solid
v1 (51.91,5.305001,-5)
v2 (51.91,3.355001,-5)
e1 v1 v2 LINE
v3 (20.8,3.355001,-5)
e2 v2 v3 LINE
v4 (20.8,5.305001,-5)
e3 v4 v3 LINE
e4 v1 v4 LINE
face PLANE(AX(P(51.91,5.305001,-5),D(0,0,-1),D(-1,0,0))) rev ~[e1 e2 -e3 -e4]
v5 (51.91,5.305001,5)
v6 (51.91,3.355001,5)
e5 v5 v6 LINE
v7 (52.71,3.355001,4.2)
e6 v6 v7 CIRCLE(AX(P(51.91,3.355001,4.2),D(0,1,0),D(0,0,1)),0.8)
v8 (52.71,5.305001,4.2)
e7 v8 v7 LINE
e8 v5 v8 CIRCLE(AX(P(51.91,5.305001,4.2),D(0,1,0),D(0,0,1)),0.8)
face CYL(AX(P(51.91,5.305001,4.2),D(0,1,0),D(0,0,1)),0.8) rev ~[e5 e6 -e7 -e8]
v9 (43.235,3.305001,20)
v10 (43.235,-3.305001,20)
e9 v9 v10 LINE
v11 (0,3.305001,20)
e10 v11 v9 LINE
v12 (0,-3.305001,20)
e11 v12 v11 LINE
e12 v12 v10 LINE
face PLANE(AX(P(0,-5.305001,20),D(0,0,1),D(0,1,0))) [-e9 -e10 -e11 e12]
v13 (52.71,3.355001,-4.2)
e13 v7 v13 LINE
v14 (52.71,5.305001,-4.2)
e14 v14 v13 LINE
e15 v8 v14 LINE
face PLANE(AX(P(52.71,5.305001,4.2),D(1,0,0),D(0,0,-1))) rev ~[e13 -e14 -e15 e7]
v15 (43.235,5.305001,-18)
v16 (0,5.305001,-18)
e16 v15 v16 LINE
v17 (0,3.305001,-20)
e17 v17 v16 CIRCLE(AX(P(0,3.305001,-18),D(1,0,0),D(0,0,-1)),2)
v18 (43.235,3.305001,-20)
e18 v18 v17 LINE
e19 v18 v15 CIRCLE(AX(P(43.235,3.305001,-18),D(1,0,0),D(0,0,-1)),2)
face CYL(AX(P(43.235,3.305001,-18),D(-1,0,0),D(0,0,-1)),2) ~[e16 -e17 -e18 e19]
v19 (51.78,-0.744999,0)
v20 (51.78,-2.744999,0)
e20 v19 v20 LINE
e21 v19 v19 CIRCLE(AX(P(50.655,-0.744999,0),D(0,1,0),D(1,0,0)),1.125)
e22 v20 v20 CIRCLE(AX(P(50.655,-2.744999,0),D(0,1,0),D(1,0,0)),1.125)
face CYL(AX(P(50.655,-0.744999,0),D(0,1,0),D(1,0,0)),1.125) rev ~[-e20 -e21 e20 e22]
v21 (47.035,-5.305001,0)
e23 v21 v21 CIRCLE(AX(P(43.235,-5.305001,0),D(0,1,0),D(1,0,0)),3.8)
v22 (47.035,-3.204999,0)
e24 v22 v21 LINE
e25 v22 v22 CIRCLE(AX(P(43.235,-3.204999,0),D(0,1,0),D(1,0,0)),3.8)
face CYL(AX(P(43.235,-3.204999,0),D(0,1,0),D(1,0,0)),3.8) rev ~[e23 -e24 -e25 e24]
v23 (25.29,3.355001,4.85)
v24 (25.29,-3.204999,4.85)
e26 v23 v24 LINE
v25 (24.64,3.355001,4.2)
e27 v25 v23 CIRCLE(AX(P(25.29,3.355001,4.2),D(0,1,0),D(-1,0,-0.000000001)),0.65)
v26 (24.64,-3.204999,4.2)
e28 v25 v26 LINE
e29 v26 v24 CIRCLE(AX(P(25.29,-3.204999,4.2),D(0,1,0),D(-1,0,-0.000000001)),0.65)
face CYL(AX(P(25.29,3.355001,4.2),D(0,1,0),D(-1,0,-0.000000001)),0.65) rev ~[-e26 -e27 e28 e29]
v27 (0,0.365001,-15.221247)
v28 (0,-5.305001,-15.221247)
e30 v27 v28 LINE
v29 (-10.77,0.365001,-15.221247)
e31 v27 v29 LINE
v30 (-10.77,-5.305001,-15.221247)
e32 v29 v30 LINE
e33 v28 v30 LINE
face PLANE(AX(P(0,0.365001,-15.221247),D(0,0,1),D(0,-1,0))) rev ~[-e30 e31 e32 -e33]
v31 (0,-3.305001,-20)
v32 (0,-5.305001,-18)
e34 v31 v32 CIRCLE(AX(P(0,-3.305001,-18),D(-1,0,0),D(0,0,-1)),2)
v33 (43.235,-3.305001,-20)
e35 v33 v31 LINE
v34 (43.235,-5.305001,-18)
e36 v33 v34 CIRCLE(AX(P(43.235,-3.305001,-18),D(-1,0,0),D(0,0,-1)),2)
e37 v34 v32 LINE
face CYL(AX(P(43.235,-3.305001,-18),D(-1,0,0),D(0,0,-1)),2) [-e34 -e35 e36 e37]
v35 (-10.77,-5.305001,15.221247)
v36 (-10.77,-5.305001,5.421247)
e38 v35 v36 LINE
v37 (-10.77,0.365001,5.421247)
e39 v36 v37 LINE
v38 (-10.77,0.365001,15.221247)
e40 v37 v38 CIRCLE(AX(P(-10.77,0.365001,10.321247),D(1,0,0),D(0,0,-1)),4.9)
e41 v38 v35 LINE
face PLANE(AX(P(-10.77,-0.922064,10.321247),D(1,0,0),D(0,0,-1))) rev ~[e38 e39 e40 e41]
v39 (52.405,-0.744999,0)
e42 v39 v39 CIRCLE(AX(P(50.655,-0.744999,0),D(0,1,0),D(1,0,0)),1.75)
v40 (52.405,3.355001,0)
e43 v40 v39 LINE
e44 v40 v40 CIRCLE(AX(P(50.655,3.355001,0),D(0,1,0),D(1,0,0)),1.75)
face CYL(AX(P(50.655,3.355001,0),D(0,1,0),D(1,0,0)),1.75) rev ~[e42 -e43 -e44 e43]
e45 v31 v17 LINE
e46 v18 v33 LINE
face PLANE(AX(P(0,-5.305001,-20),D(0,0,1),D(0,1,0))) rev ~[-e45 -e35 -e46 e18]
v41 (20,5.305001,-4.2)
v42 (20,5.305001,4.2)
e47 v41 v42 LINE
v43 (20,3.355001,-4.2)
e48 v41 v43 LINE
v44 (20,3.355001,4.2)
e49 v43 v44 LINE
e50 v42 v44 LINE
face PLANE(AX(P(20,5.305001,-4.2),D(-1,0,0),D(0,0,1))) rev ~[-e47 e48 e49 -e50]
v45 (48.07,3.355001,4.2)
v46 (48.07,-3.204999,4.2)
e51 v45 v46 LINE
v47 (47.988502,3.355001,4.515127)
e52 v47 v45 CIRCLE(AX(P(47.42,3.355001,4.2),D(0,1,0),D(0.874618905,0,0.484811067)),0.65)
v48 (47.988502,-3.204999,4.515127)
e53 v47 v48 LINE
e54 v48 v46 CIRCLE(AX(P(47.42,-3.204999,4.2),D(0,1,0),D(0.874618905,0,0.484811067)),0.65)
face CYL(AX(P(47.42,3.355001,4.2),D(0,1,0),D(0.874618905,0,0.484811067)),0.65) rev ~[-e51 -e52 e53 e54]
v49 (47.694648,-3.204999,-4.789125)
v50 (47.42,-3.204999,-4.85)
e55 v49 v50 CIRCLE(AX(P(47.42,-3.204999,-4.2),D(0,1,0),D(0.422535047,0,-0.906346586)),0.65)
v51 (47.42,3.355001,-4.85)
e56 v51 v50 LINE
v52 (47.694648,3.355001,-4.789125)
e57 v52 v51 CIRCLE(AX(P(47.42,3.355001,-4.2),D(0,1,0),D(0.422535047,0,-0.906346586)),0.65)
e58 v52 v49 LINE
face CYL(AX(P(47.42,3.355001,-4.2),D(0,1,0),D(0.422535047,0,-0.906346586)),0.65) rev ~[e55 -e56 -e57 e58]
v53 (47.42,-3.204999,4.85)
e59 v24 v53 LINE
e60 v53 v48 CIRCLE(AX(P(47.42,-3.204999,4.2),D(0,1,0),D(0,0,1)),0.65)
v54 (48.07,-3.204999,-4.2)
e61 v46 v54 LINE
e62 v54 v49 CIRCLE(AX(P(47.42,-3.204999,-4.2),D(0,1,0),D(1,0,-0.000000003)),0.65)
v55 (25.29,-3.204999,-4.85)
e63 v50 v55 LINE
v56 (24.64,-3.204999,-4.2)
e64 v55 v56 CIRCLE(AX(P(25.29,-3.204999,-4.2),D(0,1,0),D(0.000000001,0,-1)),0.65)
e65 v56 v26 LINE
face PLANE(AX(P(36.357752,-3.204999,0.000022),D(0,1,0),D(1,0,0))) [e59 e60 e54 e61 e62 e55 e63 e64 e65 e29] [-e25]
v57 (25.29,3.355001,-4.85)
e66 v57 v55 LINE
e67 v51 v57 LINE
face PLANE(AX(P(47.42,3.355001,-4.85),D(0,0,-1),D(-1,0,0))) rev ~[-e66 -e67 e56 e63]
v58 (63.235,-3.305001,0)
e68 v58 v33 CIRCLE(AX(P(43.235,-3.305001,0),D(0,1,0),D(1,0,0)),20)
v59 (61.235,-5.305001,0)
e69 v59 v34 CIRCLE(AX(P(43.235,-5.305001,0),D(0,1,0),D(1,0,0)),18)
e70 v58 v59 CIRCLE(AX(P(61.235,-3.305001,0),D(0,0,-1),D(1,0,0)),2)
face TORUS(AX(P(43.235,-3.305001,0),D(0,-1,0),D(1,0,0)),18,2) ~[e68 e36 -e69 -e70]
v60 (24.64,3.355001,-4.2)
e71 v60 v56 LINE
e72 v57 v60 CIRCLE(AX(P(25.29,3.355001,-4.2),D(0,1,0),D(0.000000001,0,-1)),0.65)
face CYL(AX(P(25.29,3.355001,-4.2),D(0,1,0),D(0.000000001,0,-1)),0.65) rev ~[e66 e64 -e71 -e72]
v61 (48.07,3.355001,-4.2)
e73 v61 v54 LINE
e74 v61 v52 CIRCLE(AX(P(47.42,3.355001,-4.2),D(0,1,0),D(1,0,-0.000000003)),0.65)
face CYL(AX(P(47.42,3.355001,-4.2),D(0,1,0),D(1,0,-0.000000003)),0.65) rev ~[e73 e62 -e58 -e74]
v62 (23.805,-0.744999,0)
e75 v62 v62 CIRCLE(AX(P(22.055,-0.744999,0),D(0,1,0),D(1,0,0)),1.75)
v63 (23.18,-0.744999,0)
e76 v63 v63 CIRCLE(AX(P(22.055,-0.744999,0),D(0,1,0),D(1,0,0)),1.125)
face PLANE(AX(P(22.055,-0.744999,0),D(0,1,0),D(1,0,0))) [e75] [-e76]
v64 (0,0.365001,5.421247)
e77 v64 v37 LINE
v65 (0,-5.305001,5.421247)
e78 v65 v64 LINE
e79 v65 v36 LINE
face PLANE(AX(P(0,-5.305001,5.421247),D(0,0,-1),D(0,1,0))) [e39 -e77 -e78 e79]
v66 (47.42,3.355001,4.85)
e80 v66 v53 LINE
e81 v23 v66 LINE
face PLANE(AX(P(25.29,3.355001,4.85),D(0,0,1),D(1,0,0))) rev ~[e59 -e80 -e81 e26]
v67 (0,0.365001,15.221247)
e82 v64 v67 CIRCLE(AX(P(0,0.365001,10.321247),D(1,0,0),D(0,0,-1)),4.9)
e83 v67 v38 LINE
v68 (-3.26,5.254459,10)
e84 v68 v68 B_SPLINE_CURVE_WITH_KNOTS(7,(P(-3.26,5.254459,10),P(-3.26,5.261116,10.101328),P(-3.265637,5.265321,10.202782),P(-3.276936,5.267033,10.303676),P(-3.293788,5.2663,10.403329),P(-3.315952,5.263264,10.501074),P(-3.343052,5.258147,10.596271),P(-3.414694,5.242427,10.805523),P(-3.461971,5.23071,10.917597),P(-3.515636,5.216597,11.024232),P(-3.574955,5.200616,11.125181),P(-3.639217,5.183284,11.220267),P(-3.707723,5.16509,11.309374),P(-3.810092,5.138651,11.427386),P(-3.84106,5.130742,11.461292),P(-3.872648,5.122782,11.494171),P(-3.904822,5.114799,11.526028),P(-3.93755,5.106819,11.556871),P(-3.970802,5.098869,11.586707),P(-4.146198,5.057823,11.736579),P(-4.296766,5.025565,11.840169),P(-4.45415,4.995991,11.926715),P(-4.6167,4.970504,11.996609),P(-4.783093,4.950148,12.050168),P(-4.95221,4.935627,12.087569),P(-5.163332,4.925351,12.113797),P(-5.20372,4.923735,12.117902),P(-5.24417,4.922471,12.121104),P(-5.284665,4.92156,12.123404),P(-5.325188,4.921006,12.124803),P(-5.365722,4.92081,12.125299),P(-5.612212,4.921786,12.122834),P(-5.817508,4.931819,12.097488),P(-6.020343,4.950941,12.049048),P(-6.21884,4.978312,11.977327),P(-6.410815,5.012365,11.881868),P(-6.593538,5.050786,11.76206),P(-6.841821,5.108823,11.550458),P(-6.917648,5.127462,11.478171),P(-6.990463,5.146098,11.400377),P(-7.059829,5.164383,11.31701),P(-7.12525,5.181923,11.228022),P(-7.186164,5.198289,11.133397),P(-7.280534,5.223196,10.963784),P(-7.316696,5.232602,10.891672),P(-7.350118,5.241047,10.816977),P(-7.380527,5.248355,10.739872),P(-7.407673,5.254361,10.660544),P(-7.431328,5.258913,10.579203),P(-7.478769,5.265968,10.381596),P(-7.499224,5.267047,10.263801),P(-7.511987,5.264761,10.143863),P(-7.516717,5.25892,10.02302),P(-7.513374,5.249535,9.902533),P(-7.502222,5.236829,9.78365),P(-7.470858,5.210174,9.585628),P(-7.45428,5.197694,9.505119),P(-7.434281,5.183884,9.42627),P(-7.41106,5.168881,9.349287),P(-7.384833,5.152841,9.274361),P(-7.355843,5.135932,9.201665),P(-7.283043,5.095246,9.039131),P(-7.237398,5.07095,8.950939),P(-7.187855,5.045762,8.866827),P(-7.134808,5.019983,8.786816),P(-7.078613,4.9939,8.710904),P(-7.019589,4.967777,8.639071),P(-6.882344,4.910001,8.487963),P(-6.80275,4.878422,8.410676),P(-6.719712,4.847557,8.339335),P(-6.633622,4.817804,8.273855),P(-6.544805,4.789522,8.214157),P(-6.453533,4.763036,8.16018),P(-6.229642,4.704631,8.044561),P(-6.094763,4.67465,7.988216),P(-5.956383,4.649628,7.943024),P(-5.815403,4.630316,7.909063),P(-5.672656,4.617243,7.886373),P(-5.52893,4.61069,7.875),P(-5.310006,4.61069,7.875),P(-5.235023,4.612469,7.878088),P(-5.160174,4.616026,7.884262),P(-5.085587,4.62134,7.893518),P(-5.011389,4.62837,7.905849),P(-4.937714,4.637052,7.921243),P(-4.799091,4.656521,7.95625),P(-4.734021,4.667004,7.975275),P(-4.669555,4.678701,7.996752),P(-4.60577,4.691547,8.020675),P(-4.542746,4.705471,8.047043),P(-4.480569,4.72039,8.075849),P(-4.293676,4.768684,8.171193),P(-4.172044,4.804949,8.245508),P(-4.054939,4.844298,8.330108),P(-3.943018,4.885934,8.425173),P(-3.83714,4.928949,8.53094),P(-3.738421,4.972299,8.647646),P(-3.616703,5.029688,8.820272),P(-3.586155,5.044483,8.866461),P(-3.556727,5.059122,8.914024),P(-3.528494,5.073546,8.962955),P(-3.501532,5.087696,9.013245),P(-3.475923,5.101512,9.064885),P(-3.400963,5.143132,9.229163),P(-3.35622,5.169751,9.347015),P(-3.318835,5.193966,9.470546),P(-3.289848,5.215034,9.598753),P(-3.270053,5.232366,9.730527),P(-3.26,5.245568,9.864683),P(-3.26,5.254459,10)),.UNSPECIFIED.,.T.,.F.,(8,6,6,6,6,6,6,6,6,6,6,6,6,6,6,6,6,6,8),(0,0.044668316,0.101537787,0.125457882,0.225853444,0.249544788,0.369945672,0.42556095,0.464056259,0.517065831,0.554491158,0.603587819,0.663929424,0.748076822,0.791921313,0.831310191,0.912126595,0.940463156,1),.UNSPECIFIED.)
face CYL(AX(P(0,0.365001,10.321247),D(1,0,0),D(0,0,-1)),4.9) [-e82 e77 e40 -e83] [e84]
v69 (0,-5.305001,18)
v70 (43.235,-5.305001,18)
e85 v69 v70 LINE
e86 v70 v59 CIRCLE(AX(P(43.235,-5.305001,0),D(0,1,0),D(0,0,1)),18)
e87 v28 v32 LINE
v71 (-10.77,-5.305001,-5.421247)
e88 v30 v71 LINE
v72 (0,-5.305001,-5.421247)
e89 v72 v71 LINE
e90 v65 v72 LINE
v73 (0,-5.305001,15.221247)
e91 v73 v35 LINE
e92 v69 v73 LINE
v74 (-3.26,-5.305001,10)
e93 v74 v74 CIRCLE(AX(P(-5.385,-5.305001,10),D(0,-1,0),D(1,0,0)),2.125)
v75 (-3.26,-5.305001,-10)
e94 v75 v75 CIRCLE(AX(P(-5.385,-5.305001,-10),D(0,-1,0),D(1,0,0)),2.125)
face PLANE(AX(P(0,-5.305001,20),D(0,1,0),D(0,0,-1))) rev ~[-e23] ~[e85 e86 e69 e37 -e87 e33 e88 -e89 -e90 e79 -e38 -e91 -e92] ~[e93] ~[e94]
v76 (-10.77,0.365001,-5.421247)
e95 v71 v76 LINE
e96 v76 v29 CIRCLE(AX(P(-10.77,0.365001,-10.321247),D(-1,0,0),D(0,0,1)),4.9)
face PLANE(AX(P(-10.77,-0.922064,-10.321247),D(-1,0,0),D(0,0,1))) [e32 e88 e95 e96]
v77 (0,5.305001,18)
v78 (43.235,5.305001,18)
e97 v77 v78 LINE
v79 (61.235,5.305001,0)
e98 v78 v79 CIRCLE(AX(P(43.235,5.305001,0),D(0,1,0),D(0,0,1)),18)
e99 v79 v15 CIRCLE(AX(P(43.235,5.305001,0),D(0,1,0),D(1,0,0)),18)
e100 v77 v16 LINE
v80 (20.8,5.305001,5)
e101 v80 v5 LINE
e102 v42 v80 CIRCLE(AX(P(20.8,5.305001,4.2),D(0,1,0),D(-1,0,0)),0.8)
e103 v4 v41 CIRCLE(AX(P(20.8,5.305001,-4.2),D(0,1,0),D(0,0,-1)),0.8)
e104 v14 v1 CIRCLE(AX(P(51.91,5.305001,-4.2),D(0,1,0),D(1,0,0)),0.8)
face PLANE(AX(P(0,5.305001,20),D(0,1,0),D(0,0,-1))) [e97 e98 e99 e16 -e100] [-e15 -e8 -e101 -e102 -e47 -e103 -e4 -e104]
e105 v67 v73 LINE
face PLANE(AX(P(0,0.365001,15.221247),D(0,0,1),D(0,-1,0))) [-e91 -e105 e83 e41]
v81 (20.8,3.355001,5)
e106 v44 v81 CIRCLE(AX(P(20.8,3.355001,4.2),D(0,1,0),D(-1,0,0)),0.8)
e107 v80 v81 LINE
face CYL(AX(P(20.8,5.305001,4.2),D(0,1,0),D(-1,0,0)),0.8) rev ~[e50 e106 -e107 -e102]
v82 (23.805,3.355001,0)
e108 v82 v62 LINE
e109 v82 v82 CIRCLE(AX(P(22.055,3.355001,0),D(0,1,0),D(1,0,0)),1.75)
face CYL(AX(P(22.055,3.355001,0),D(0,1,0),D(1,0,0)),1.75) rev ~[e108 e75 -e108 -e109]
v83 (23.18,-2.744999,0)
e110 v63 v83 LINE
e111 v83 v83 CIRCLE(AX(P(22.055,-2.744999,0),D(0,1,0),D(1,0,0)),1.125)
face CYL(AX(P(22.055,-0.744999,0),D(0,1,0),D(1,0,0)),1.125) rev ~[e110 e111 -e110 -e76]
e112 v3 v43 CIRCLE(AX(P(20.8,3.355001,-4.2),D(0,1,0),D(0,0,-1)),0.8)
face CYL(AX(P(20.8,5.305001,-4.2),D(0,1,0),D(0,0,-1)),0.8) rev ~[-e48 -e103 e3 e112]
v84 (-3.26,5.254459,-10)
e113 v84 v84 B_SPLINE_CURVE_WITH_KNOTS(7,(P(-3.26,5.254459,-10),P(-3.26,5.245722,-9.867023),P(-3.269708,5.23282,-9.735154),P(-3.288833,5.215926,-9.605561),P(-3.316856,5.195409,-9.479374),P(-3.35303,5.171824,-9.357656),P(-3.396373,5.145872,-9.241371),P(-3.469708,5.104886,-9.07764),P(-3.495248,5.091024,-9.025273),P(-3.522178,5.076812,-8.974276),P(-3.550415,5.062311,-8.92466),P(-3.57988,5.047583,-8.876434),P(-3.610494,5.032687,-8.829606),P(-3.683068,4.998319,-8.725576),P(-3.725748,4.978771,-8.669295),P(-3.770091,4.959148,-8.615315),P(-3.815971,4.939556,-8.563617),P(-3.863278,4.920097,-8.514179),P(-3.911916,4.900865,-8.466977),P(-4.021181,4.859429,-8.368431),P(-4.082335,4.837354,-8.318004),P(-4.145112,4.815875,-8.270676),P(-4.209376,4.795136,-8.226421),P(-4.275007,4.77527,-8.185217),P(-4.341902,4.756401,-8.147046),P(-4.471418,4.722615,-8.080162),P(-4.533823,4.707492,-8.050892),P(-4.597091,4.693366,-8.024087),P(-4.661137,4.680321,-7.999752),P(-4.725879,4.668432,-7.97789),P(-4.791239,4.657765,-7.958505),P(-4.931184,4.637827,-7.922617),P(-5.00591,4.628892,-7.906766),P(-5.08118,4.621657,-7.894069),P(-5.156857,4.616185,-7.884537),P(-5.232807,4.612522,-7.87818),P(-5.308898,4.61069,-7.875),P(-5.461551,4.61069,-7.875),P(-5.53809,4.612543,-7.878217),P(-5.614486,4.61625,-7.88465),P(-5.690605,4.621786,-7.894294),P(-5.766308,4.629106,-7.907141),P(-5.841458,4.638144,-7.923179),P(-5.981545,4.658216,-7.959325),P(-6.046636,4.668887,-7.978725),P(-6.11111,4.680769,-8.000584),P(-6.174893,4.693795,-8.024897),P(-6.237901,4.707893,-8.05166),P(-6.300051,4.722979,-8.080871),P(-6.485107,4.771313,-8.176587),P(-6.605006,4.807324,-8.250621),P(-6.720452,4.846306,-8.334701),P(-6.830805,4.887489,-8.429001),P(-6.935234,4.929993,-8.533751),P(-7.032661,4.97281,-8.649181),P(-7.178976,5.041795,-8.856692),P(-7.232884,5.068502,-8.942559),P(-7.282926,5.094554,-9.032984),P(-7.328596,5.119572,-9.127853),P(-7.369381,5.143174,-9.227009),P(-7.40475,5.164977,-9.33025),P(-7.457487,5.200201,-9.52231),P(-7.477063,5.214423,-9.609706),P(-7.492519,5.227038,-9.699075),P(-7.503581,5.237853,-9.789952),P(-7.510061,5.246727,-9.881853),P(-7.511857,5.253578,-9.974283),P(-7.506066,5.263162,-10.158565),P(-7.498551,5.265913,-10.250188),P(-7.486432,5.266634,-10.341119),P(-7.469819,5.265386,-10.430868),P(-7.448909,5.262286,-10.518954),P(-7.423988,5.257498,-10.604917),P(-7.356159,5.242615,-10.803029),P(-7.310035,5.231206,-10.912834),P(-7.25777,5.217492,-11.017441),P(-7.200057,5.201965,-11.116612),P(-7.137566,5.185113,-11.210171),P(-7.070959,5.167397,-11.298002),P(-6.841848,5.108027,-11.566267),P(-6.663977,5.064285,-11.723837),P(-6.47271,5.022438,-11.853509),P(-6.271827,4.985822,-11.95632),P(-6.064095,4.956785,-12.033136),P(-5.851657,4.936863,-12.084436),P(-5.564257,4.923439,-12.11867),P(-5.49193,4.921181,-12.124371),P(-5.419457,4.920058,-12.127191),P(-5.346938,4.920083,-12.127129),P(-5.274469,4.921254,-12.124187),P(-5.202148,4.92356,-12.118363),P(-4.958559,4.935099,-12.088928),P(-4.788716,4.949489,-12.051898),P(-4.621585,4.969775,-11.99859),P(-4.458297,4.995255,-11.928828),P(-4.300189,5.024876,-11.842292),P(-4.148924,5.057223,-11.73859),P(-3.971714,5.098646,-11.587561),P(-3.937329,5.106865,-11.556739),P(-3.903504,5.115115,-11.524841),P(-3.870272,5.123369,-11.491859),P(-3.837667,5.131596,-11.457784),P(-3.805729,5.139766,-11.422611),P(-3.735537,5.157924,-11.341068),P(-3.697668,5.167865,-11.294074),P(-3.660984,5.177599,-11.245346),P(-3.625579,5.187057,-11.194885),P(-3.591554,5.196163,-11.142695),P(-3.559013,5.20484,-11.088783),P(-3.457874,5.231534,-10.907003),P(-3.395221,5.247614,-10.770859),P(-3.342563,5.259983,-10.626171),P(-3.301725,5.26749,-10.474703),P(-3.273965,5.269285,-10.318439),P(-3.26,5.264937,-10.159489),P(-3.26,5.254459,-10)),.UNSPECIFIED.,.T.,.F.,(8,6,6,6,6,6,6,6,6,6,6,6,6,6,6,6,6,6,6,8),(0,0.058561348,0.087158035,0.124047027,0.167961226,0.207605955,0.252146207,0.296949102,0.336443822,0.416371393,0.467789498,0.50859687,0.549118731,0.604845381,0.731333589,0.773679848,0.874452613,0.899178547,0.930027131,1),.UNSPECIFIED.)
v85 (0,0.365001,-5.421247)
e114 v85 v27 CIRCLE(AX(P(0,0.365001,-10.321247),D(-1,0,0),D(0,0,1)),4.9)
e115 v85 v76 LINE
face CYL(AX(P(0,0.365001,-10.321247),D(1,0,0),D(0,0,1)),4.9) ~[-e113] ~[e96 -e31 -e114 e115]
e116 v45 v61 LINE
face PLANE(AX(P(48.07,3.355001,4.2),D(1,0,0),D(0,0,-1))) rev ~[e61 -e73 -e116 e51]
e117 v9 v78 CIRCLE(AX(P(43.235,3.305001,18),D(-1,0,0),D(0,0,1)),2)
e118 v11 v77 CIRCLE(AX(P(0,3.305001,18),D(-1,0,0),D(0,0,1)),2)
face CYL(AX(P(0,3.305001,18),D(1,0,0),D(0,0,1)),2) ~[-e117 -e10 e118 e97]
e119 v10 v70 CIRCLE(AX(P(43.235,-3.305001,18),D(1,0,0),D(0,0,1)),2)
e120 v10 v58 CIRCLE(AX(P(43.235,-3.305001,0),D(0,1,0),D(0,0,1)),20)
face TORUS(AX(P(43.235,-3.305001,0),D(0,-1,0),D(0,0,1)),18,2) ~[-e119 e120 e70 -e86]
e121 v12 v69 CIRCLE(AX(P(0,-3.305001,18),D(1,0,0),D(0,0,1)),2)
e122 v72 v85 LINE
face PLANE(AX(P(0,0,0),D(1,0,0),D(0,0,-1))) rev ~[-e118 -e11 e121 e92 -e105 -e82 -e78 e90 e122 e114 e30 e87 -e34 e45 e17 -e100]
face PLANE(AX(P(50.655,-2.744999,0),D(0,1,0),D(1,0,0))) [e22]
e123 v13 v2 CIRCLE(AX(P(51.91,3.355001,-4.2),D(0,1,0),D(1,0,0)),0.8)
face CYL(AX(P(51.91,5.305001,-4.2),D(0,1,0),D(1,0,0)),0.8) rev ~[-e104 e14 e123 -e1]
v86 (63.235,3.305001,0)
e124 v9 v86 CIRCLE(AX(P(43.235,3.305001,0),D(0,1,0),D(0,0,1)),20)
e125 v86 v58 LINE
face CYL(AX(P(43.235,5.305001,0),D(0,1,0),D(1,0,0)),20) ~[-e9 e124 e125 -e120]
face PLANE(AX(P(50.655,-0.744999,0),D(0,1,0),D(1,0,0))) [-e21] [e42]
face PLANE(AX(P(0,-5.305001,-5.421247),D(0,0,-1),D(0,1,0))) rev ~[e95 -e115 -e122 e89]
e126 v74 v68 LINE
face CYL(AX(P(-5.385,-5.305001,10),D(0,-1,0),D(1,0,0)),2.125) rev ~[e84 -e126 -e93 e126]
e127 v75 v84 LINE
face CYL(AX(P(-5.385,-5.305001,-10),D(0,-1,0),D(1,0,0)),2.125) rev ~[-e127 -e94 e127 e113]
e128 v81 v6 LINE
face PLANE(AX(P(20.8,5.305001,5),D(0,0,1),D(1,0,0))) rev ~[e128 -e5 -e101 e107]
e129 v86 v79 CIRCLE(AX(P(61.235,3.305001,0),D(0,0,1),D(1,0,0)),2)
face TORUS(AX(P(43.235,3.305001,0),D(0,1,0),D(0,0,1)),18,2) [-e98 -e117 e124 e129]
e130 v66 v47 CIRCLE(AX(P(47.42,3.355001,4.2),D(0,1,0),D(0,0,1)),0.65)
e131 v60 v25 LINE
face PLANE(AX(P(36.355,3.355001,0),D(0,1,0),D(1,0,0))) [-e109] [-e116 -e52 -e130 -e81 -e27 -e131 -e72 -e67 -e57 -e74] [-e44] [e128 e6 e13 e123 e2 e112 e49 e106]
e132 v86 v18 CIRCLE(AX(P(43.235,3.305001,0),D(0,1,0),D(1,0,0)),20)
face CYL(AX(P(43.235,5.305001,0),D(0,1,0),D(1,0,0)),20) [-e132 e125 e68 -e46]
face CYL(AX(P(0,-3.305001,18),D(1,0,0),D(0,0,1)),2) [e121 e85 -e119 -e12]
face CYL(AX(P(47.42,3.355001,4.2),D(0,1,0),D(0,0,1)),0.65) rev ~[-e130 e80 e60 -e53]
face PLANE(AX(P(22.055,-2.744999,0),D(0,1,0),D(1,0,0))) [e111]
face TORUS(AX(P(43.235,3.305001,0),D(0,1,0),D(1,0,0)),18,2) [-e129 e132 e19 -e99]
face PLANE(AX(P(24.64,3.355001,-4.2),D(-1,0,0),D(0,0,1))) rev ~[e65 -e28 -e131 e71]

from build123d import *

# Parameters (mm, degrees)
SKETCH1_W           = 40
SKETCH1_H           = 10.610001376
BOSS_EXTRUDE1_DEPTH = 63.235
CUT_EXTRUDE1_DEPTH  = 11.610001375
CUT_EXTRUDE2_DEPTH  = 1.95
CUT_EXTRUDE3_DEPTH  = 6.56
SKETCH5_R           = 3.8
CUT_EXTRUDE4_DEPTH  = 3.100001375
SKETCH6_R           = 1.75
CUT_EXTRUDE5_DEPTH  = 4.1
SKETCH7_R           = 1.125
CUT_EXTRUDE6_DEPTH  = 2
FILLET1_R           = 2
BOSS_EXTRUDE2_DEPTH = 10.77
SKETCH9_R           = 2.125
CUT_EXTRUDE7_DEPTH  = 11.610001375


with BuildPart() as part:
    # Sketch1 → Boss-Extrude1 (new body)
    with BuildSketch(Plane(origin=(0, 0, 0), x_dir=(0, 0, -1), z_dir=(1, 0, 0))):
        Rectangle(SKETCH1_W, SKETCH1_H)
    extrude(amount=BOSS_EXTRUDE1_DEPTH)

    # Sketch2 → Cut-Extrude1 (cut, through all)
    with BuildSketch(Plane(origin=(0, 5.305000688, 0), x_dir=(1, 0, 0), z_dir=(0, 1, 0))):
        with BuildLine():
            Line((63.235, -20), (63.235, 0))
            ThreePointArc((63.235, 0), (57.377135624, -14.142135624), (43.235, -20))
            Line((43.235, -20), (63.235, -20))
        make_face()
    cut_extrude1 = extrude(amount=-CUT_EXTRUDE1_DEPTH, mode=Mode.SUBTRACT)

    # Mirror1: Cut-Extrude1 across plane
    add(cut_extrude1.mirror(Plane.XY), mode=Mode.SUBTRACT)

    # Sketch3 → Cut-Extrude2 (cut)
    with BuildSketch(Plane(origin=(0, 5.305000688, 0), x_dir=(1, 0, 0), z_dir=(0, 1, 0))):
        with BuildLine():
            Line((20, 4.2), (20, -4.2))
            ThreePointArc((20, -4.2), (20.234314575, -4.765685425), (20.8, -5))
            Line((20.8, -5), (31.17, -5))
            Line((31.17, -5), (41.54, -5))
            Line((41.54, -5), (51.91, -5))
            ThreePointArc((51.91, -5), (52.475685425, -4.765685425), (52.71, -4.2))
            Line((52.71, -4.2), (52.71, 4.2))
            ThreePointArc((52.71, 4.2), (52.475685425, 4.765685425), (51.91, 5))
            Line((51.91, 5), (41.54, 5))
            Line((41.54, 5), (31.17, 5))
            Line((31.17, 5), (20.8, 5))
            ThreePointArc((20.8, 5), (20.234314575, 4.765685425), (20, 4.2))
        make_face()
    extrude(amount=-CUT_EXTRUDE2_DEPTH, mode=Mode.SUBTRACT)

    # Sketch4 → Cut-Extrude3 (cut)
    with BuildSketch(Plane(origin=(0, 3.355000688, 0), x_dir=(1, 0, 0), z_dir=(0, 1, 0))):
        with BuildLine():
            Line((48.07, -4.2), (48.07, 4.2))
            ThreePointArc((48.07, 4.2), (47.968188406, 4.549269911), (47.694647782, 4.78912528))
            ThreePointArc((47.694647782, 4.78912528), (47.560656617, 4.834598862), (47.42, 4.85))
            Line((47.42, 4.85), (25.29, 4.85))
            ThreePointArc((25.29, 4.85), (24.830380592, 4.659619408), (24.64, 4.2))
            Line((24.64, 4.2), (24.64, -4.2))
            ThreePointArc((24.64, -4.2), (24.830380592, -4.659619408), (25.29, -4.85))
            Line((25.29, -4.85), (47.42, -4.85))
            ThreePointArc((47.42, -4.85), (47.749899473, -4.760059227), (47.988502289, -4.515127192))
            ThreePointArc((47.988502289, -4.515127192), (48.049295832, -4.362747522), (48.07, -4.2))
        make_face()
    extrude(amount=-CUT_EXTRUDE3_DEPTH, mode=Mode.SUBTRACT)

    # Sketch5 → Cut-Extrude4 (cut, through all)
    with BuildSketch(Plane(origin=(0, -3.204999312, 0), x_dir=(1, 0, 0), z_dir=(0, 1, 0))):
        with Locations((43.235, 0)):
            Circle(SKETCH5_R)
    extrude(amount=-CUT_EXTRUDE4_DEPTH, mode=Mode.SUBTRACT)

    # Sketch6 → Cut-Extrude5 (cut)
    with BuildSketch(Plane(origin=(0, 3.355000688, 0), x_dir=(1, 0, 0), z_dir=(0, 1, 0))):
        with Locations((50.655, 0)):
            Circle(SKETCH6_R)
        with Locations((22.055, 0)):
            Circle(SKETCH6_R)
    extrude(amount=-CUT_EXTRUDE5_DEPTH, mode=Mode.SUBTRACT)

    # Sketch7 → Cut-Extrude6 (cut)
    with BuildSketch(Plane(origin=(0, -0.744999312, 0), x_dir=(1, 0, 0), z_dir=(0, 1, 0))):
        with Locations((50.655, 0)):
            Circle(SKETCH7_R)
        with Locations((22.055, 0)):
            Circle(SKETCH7_R)
    extrude(amount=-CUT_EXTRUDE6_DEPTH, mode=Mode.SUBTRACT)

    # Fillet1
    fillet1_edges = [part.edges().sort_by_distance(p)[0] for p in [
        (21.6175, 5.305000688, 20),
        (21.6175, -5.305000688, 20),
        (63.235, -5.305000688, 0),
        (63.235, 5.305000688, 0),
        (21.6175, 5.305000688, -20),
        (21.6175, -5.305000688, -20),
    ]]
    fillet(fillet1_edges, radius=FILLET1_R)

    # Sketch8 → Boss-Extrude2 (add)
    with BuildSketch(Plane.ZY):
        with BuildLine():
            Line((-15.221247138, 0.365000688), (-15.221247138, -5.305000688))
            Line((-15.221247138, -5.305000688), (-5.421247138, -5.305000688))
            Line((-5.421247138, -5.305000688), (-5.421247138, 0.365000688))
            ThreePointArc((-5.421247138, 0.365000688), (-10.321247138, 5.265000688), (-15.221247138, 0.365000688))
        make_face()
        with BuildLine():
            Line((15.221247138, 0.365000688), (15.221247138, -5.305000688))
            Line((15.221247138, -5.305000688), (5.421247138, -5.305000688))
            Line((5.421247138, -5.305000688), (5.421247138, 0.365000688))
            ThreePointArc((5.421247138, 0.365000688), (10.321247138, 5.265000688), (15.221247138, 0.365000688))
        make_face()
    extrude(amount=BOSS_EXTRUDE2_DEPTH)

    # Sketch9 → Cut-Extrude7 (cut, through all)
    with BuildSketch(Plane.XZ.offset(5.305000688)):
        with Locations((-5.385, 10)):
            Circle(SKETCH9_R)
        with Locations((-5.385, -10)):
            Circle(SKETCH9_R)
    extrude(amount=-CUT_EXTRUDE7_DEPTH, mode=Mode.SUBTRACT)


solid = part.part
